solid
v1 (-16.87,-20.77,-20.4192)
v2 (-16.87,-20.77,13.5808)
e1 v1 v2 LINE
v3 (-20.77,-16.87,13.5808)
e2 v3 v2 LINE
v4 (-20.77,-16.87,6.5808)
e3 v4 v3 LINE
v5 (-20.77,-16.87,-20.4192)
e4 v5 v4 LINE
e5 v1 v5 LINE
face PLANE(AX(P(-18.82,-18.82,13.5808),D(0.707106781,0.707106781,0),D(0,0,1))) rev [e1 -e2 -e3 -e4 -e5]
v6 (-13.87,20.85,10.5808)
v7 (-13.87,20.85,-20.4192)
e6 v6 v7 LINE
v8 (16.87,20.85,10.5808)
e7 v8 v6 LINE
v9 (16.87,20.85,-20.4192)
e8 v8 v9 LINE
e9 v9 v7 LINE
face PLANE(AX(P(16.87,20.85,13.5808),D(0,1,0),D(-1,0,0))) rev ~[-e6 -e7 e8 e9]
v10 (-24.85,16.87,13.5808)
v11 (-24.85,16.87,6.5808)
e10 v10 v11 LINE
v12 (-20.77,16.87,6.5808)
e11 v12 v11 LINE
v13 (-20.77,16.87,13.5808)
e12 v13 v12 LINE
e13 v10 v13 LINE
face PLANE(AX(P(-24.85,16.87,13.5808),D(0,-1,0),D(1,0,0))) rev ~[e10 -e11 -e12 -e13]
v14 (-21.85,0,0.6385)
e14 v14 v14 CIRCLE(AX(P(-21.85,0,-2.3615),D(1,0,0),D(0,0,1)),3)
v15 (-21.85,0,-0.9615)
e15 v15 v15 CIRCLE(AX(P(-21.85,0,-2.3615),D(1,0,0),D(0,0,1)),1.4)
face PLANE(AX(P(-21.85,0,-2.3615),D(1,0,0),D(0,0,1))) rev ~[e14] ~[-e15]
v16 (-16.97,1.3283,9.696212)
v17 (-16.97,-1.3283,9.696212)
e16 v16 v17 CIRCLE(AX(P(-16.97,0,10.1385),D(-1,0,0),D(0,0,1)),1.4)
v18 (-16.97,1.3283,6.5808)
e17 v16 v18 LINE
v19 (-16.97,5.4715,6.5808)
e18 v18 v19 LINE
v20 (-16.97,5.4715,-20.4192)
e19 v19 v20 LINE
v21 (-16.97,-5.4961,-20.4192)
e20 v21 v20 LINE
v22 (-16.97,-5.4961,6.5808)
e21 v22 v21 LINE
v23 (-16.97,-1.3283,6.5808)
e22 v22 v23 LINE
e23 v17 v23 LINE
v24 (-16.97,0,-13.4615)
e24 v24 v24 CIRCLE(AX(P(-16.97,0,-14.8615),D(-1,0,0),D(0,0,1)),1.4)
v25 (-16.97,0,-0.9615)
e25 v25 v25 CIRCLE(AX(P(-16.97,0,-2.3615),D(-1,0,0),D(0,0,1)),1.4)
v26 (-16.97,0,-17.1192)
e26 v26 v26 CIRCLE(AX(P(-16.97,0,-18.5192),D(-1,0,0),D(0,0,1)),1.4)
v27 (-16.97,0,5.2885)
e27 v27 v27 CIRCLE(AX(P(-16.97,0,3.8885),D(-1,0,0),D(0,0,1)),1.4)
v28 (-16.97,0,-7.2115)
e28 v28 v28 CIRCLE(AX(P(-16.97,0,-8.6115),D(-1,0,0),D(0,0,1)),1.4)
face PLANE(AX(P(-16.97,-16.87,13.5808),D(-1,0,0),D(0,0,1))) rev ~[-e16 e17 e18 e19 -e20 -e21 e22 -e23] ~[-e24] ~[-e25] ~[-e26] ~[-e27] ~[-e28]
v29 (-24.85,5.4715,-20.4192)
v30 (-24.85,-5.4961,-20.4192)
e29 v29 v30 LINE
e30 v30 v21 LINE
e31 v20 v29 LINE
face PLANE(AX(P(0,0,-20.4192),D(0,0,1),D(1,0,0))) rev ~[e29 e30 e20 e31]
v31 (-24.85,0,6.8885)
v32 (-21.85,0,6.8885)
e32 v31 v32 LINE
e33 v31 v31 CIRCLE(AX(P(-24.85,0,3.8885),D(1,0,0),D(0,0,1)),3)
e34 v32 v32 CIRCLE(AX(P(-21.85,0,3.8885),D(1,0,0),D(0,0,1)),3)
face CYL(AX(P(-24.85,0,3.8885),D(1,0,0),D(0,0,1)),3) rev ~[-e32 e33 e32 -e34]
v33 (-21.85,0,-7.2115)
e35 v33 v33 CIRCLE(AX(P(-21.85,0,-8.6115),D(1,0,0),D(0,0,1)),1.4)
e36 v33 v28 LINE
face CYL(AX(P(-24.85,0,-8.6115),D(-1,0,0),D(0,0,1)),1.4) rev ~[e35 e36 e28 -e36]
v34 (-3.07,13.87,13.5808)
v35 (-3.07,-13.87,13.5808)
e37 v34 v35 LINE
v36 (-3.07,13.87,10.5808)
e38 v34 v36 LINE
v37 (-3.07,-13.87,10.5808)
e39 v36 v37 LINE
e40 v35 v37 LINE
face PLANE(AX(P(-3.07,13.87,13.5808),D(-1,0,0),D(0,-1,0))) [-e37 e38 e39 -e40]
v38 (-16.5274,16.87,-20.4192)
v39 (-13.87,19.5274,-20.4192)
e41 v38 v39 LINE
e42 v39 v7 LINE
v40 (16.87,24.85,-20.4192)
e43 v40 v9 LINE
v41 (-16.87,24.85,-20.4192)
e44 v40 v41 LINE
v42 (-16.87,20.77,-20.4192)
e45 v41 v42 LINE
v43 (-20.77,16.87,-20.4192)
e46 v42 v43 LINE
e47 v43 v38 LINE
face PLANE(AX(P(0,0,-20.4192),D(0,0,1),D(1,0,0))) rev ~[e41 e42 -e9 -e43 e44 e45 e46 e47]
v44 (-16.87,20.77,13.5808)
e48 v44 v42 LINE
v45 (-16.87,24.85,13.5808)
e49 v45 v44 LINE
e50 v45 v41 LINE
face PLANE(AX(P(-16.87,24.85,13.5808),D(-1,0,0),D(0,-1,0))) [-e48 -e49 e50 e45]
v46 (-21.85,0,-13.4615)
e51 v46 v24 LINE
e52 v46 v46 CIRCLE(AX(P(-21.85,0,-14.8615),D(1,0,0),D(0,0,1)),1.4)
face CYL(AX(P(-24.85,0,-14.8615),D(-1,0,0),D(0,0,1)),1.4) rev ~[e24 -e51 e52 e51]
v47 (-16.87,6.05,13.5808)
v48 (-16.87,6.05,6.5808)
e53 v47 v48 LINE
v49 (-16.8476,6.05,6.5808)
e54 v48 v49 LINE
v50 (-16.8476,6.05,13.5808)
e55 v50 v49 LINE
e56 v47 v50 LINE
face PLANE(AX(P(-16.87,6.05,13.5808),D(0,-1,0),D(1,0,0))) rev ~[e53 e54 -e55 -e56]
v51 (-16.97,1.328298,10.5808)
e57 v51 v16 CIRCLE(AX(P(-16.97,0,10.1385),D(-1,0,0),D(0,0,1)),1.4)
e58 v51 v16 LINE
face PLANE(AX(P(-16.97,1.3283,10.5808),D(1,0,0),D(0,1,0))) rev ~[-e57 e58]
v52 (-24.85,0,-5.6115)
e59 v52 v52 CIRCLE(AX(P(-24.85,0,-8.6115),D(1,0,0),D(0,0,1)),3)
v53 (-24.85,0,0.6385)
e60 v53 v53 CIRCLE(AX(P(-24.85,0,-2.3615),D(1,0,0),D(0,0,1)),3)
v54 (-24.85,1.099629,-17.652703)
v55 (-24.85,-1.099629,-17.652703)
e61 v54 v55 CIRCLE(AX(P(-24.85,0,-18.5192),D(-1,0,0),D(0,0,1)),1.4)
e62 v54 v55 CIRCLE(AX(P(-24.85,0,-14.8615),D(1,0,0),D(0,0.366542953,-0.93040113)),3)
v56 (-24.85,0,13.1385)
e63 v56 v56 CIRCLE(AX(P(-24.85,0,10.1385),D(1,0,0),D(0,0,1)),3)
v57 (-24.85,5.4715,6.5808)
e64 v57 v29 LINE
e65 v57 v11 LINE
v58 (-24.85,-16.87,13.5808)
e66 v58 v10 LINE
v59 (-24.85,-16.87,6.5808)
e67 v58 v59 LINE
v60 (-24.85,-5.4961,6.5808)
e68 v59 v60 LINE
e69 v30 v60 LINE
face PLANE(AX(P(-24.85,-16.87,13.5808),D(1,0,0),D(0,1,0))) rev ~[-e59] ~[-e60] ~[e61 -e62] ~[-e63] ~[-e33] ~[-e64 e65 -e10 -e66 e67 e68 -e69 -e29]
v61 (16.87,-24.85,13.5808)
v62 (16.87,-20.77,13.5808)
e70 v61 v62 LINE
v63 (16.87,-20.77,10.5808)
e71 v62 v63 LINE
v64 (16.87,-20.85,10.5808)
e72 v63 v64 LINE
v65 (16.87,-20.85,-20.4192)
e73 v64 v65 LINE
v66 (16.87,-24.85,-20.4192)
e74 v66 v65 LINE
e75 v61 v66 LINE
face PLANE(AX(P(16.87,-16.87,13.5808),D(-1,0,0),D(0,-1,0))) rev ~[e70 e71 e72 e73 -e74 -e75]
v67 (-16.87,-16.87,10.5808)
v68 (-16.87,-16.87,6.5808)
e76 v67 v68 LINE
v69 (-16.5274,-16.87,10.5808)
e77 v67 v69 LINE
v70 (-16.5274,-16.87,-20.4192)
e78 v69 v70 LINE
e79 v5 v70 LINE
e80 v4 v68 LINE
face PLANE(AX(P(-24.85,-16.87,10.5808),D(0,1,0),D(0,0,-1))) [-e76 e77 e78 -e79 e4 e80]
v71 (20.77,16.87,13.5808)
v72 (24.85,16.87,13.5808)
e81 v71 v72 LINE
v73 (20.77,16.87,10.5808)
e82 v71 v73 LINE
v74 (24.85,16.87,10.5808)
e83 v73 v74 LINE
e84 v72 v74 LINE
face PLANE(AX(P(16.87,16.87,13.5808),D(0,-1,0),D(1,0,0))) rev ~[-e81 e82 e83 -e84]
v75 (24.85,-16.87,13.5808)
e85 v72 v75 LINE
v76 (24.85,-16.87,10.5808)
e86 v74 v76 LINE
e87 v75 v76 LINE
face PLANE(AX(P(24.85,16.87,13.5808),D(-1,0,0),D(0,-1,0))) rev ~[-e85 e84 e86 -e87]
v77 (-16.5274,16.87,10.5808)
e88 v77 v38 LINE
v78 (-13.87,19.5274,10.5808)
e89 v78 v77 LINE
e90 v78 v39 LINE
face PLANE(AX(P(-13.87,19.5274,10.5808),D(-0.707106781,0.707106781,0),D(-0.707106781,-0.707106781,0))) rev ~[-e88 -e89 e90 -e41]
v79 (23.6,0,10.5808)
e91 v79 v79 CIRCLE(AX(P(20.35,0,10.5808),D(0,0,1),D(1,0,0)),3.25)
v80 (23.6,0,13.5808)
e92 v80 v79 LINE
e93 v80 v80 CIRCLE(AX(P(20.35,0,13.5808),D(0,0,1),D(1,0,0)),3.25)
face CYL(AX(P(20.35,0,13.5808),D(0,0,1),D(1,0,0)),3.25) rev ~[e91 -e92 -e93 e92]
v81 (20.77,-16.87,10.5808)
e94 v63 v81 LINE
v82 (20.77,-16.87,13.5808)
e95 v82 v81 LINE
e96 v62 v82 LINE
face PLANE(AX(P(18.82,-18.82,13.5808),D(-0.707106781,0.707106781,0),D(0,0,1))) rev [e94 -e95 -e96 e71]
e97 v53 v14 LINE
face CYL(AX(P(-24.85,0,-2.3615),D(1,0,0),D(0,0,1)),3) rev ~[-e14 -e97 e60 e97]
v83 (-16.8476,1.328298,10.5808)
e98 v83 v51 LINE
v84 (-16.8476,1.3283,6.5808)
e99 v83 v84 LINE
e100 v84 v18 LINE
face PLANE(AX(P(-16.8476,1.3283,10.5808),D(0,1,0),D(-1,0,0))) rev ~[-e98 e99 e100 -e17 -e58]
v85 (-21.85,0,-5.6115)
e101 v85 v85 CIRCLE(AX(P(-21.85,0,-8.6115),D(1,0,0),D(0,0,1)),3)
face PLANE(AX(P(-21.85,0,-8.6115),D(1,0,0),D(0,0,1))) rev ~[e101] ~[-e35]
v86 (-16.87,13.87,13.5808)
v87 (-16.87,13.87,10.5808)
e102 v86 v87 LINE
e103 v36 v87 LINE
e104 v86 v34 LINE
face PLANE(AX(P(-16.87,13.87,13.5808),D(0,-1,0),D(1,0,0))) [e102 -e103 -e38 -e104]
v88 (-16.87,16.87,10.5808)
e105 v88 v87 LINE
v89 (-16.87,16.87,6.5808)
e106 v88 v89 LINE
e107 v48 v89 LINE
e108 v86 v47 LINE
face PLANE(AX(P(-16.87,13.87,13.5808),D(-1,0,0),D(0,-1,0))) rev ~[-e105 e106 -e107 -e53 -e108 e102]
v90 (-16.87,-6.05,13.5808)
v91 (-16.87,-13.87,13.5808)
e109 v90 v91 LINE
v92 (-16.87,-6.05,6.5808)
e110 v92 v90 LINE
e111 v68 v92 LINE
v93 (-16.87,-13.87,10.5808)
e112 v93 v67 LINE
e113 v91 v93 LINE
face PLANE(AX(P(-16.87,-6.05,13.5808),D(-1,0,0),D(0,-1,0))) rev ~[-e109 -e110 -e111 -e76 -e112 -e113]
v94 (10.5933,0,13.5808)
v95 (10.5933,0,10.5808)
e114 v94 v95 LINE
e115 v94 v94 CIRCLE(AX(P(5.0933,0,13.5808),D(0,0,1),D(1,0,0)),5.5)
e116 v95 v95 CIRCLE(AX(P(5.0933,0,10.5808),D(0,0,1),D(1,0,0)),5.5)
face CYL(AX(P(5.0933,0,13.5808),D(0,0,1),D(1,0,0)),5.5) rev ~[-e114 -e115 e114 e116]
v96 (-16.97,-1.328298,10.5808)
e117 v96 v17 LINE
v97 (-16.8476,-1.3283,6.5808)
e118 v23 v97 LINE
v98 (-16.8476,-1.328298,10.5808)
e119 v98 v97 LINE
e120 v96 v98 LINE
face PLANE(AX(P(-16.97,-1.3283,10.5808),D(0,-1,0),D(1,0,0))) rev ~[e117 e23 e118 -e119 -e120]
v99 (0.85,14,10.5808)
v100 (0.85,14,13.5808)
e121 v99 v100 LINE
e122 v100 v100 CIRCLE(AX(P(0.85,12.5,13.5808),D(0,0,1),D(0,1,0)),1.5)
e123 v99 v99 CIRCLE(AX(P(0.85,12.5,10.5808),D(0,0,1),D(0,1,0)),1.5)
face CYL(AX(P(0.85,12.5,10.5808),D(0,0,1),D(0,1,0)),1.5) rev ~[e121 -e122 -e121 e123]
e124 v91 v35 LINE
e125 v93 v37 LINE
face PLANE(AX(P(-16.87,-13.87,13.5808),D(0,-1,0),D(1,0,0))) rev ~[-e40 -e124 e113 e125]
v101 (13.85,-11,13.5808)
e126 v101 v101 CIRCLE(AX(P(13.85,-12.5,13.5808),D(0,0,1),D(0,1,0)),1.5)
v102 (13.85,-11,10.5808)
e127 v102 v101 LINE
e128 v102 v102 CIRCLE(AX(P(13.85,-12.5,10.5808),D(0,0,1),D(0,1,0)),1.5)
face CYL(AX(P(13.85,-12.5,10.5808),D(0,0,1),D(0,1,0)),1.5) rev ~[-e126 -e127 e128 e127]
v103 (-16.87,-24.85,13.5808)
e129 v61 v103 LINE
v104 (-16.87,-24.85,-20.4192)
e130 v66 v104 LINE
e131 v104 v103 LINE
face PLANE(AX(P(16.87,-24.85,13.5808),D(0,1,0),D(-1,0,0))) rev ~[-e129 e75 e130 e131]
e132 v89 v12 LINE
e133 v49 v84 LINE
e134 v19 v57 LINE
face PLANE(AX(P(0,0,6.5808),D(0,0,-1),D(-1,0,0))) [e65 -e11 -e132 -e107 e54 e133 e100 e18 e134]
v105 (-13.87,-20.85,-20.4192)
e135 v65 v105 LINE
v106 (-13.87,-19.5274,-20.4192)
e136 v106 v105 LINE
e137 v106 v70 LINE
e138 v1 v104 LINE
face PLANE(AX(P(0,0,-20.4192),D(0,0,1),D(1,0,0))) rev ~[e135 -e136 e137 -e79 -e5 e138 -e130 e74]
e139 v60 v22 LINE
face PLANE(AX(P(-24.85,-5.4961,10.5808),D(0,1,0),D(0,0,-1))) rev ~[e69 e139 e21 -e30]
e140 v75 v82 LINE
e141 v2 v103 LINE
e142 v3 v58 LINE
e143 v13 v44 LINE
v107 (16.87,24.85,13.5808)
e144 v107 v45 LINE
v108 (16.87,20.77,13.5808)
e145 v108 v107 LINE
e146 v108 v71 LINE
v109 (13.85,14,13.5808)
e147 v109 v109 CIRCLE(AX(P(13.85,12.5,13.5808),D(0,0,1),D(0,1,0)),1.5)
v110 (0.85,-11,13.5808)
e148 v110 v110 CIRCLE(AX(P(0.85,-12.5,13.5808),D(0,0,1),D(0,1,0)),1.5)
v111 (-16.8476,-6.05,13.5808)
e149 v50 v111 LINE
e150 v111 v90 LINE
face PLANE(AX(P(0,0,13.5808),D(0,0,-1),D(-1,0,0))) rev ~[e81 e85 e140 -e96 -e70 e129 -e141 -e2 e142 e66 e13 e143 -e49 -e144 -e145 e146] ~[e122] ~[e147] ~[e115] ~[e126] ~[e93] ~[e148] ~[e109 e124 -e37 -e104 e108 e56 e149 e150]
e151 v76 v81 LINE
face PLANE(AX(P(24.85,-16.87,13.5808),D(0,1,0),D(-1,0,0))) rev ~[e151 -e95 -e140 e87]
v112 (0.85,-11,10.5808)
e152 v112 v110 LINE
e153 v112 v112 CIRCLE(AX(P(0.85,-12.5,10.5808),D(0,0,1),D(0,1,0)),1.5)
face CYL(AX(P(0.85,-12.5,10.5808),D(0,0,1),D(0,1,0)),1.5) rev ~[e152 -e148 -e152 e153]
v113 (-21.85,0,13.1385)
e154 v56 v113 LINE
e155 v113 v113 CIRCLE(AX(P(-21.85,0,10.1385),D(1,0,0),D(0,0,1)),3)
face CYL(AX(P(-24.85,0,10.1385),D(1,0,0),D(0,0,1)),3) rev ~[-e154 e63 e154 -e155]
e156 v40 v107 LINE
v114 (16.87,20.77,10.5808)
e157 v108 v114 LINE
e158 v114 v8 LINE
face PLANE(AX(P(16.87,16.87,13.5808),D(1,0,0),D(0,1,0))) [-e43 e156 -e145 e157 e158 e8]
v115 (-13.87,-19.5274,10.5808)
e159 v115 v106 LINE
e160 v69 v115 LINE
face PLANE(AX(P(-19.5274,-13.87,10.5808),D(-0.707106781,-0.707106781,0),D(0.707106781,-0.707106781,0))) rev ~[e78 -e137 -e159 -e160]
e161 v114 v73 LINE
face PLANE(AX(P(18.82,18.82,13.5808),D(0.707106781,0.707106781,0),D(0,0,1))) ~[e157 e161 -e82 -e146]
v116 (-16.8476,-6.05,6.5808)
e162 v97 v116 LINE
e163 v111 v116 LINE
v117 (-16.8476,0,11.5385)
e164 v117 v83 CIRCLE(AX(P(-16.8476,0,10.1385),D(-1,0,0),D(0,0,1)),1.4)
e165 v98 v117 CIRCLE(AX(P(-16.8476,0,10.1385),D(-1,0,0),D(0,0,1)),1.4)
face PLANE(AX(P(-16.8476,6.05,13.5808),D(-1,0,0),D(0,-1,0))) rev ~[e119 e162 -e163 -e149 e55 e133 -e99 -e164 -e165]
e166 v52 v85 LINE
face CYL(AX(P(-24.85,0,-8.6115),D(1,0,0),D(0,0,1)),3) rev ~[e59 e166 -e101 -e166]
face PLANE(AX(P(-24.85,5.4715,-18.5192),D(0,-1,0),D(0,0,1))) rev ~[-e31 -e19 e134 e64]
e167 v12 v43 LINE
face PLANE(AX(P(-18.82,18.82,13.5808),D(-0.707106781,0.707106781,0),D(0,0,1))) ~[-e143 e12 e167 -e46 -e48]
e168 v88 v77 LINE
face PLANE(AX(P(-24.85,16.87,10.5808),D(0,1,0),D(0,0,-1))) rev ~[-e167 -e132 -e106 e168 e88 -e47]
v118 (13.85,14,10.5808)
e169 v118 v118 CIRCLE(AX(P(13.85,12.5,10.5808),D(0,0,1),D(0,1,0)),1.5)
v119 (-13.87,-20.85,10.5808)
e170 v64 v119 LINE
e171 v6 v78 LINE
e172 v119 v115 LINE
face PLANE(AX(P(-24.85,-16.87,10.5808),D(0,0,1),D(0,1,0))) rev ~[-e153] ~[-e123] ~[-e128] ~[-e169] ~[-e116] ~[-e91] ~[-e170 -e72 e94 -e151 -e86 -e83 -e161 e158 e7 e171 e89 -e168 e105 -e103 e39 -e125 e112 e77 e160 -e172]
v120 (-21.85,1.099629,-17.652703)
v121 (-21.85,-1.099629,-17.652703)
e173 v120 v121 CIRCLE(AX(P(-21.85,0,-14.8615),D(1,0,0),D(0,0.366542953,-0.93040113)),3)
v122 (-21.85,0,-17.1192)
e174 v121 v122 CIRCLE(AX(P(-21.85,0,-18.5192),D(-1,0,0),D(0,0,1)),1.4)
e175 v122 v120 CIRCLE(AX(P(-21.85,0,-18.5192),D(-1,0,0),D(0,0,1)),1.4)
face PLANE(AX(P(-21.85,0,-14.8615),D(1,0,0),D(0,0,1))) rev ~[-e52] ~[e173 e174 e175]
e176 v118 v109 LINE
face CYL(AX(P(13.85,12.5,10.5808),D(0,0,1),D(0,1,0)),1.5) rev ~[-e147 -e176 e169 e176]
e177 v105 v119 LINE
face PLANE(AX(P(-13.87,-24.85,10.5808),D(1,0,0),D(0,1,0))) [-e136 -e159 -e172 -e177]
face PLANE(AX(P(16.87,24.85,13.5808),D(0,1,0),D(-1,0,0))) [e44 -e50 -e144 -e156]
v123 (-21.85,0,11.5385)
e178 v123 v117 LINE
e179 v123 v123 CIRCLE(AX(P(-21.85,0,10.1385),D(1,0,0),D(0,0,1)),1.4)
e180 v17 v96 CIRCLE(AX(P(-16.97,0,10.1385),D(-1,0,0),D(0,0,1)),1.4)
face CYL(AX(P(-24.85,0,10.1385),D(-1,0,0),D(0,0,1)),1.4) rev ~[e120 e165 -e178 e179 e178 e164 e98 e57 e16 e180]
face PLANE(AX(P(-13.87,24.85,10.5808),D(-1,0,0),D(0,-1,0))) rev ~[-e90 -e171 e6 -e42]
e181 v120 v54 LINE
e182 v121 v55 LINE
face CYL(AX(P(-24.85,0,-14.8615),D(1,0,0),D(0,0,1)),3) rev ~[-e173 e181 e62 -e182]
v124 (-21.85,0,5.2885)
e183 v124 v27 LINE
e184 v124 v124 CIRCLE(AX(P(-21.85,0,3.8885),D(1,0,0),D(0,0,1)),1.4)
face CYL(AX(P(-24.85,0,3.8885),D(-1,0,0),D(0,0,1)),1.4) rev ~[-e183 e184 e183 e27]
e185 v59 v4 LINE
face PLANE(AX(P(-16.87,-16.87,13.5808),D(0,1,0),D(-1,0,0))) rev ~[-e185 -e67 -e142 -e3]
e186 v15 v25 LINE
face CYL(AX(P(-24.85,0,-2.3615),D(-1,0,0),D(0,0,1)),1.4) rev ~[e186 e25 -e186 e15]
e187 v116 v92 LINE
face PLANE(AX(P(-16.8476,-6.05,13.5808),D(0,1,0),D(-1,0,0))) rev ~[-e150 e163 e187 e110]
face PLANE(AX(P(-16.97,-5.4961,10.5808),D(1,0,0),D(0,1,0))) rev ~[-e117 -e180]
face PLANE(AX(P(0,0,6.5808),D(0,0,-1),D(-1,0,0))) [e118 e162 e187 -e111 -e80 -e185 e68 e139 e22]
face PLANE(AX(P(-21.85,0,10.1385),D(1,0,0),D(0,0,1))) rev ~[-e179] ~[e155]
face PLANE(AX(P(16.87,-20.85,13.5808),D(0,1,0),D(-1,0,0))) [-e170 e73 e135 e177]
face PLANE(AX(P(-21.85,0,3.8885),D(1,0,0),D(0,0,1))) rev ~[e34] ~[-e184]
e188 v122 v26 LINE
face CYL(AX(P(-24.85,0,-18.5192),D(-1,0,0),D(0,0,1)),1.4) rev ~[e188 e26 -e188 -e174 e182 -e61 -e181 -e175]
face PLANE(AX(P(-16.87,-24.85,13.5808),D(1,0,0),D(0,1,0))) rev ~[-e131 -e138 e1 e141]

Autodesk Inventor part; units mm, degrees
ref_plane "Work Plane1" through (0, 0, 13.5808) normal (0, 0, -1) x (-1, 0, 0)
sketch "Sketch1" plane through (0, 0, 13.5808) normal (0, 0, -1) x (-1, 0, 0)
  line L0 (24.85, 16.87) -> (16.87, 16.87)
  line L1 (16.87, -16.87) -> (24.85, -16.87)
  line L2 (24.85, -16.87) -> (24.85, 16.87)
  line L3 (-16.87, 24.85) -> (16.87, 24.85)
  line L4 (16.87, 24.85) -> (16.87, 13.87)
  line L5 (16.87, 13.87) -> (-16.87, 13.87)
  line L6 (-16.87, 13.87) -> (-16.87, 24.85)
  line L7 (-16.87, 16.87) -> (-24.85, 16.87)
  line L8 (-24.85, 16.87) -> (-24.85, -16.87)
  line L9 (-24.85, -16.87) -> (-16.87, -16.87)
  line L10 (-16.87, -24.85) -> (16.87, -24.85)
  line L11 (16.87, -24.85) -> (16.87, -13.87)
  line L12 (16.87, -13.87) -> (-16.87, -13.87)
  line L13 (-16.87, -13.87) -> (-16.87, -24.85)
  circle A0 centre (-22.53, 11.5) radius 1.025 construction
  circle A1 centre (-22.53, -11.5) radius 1.025 construction
  line L14 (-11.03, -14.1) -> (-11.03, -12.75) construction
  arc A2 (-11.03, 12.75) -> (-11.03, -12.75) centre (-11.03, 0) ccw construction
  line L15 (-11.03, 12.75) -> (-11.03, 14.1) construction
  line L16 (-11.03, 14.1) -> (-22.53, 14.1) construction
  arc A3 (-22.53, 14.1) -> (-25.13, 11.5) centre (-22.53, 11.5) ccw construction
  line L17 (-25.13, 11.5) -> (-25.13, -11.5) construction
  arc A4 (-25.13, -11.5) -> (-22.53, -14.1) centre (-22.53, -11.5) ccw construction
  line L18 (-22.53, -14.1) -> (-11.03, -14.1) construction
  circle A5 centre (-11.03, 0) radius 12.75 construction
  circle A6 centre (0.47, 11.5) radius 1.025 construction
  circle A7 centre (0.47, -11.5) radius 1.025 construction
  circle A8 centre (-22.53, -11.5) radius 1.025 construction
  circle A9 centre (-22.53, 11.5) radius 1.025 construction
  line L19 (-22.53, -14.1) -> (0.47, -14.1) construction
  arc A10 (-25.13, -11.5) -> (-22.53, -14.1) centre (-22.53, -11.5) ccw construction
  line L20 (-25.13, 11.5) -> (-25.13, -11.5) construction
  arc A11 (-22.53, 14.1) -> (-25.13, 11.5) centre (-22.53, 11.5) ccw construction
  line L21 (0.47, 14.1) -> (-22.53, 14.1) construction
  arc A12 (3.07, 11.5) -> (0.47, 14.1) centre (0.47, 11.5) ccw construction
  line L22 (3.07, -11.5) -> (3.07, 11.5) construction
  arc A13 (0.47, -14.1) -> (3.07, -11.5) centre (0.47, -11.5) ccw construction
  line L23 (-16.87, 13.87) -> (3.07, 13.87)
  line L24 (3.07, 13.87) -> (3.07, -13.87)
  line L25 (3.07, -13.87) -> (-16.87, -13.87)
  line L26 (16.87, 6.05) -> (16.8476, 6.05)
  line L27 (16.8476, 6.05) -> (16.8476, -6.05)
  line L28 (16.8476, -6.05) -> (16.87, -6.05)
  line L29 (16.87, -6.05) -> (16.87, -4.7)
  line L30 (16.87, 4.7) -> (16.87, 6.05)
  line L31 (16.87, 16.87) -> (16.87, 6.05)
  line L32 (16.87, -6.05) -> (16.87, -16.87)
  line L33 (5.6476, 13.2) -> (13.4476, 13.2) projected
  line L34 (13.4476, -13.2) -> (5.6476, -13.2) projected
  circle A14 centre (-4.7031, 0) radius 7 construction
  circle A15 centre (-4.7031, 0) radius 4 construction
  point P0 (0, 0)
  point P1 (16.87, 16.87)
  point P2 (3.07, 13.87)
  point P3 (3.07, 13.87)
  point P4 (-16.87, -16.87)
  dimension "d6" = 3
  dimension "d7" = 3
  dimension "d140" = 8
extrude "Extrusion1" add sketch "Sketch1" along normal blind 3 contours L2 L1 L11 L32 L28 L27 L26 L31 L4 L0 | L4 L5 L6 L3 | L11 L10 L13 L12 | L24 L12 L13 L9 L8 L7 L6 L5
chamfer "Chamfer1" distance 3.9 angle 45 4 edges at (-16.87, -16.87, 12.0808) (16.87, -16.87, 12.0808) (16.87, 16.87, 12.0808) (-16.87, 16.87, 12.0808)
sketch "Sketch2" plane through (0, 0, 10.5808) normal (0, 0, -1) x (-1, 0, 0)
  line L0 (3.07, 13.87) -> (16.87, 13.87) projected
  line L1 (16.87, -13.87) -> (3.07, -13.87) projected
  line L2 (-16.87, -20.77) -> (-16.87, -24.85) construction
  line L3 (-16.87, -24.85) -> (16.87, -24.85) construction
  line L4 (16.87, -6.05) -> (16.87, -13.87) projected
  line L5 (16.87, 20.77) -> (16.87, 24.85) construction
  line L6 (16.87, 24.85) -> (-16.87, 24.85) construction
  line L7 (-16.87, 24.85) -> (-16.87, 20.77) construction
  line L8 (-13.8689, -21.8489) -> (-13.8689, -19.5269)
  line L9 (-13.8689, -19.5269) -> (-19.5269, -13.8689)
  line L10 (-19.5269, -13.8689) -> (-21.8489, -13.8689)
  line L11 (-21.8489, 13.8689) -> (-19.5269, 13.8689)
  line L12 (-19.5269, 13.8689) -> (-13.8689, 19.5269)
  line L13 (-13.8689, 19.5269) -> (-13.8689, 21.8489)
  line L14 (-13.8689, 21.8489) -> (-13.8689, 24.85)
  line L15 (-21.8489, 13.8689) -> (-24.85, 13.8689)
  line L16 (-21.8489, -13.8689) -> (-24.85, -13.8689)
  line L17 (-13.8689, -21.8489) -> (-13.8689, -24.85)
  line L18 (-11.5469, -21.8489) -> (-13.8689, -21.8489)
  line L19 (-21.8489, -13.8689) -> (-21.8489, -11.5469)
  line L20 (-21.8489, 11.5469) -> (-21.8489, 13.8689)
  line L21 (-13.8689, 21.8489) -> (-11.5469, 21.8489)
  line L22 (16.87, 13.87) -> (16.87, 6.05) projected
  line L23 (16.87, 6.05) -> (16.8476, 6.05) projected
  line L24 (16.8476, 6.05) -> (16.8476, -6.05) projected
  line L25 (16.8476, -6.05) -> (16.87, -6.05) projected
  line L26 (20.77, -16.87) -> (24.85, -16.87) construction
  line L27 (24.85, -16.87) -> (24.85, 16.87) construction
  line L28 (24.85, 16.87) -> (20.77, 16.87) construction
  line L29 (16.87, 20.77) -> (20.77, 16.87) construction
  line L30 (16.87, -24.85) -> (16.87, -20.77) construction
  line L31 (20.77, -16.87) -> (16.87, -20.77) construction
  line L32 (-13.87, 21.85) -> (13.87, 21.85) construction
  line L33 (13.87, 21.85) -> (13.87, 19.5274) construction
  line L34 (13.87, 19.5274) -> (19.5274, 13.87) construction
  line L35 (19.5274, 13.87) -> (21.85, 13.87) construction
  line L36 (21.85, 13.87) -> (21.85, -13.87) construction
  line L37 (21.85, -13.87) -> (19.5274, -13.87) construction
  line L38 (19.5274, -13.87) -> (13.87, -19.5274) construction
  line L39 (13.87, -19.5274) -> (13.87, -21.85) construction
  line L40 (13.87, -21.85) -> (-13.87, -21.85) construction
  line L41 (-13.87, -21.85) -> (-13.87, -19.5274) construction
  line L42 (-13.87, -19.5274) -> (-19.5274, -13.87) construction
  line L43 (-19.5274, -13.87) -> (-21.85, -13.87) construction
  line L44 (-21.85, -13.87) -> (-21.85, 13.87) construction
  line L45 (-21.85, 13.87) -> (-19.5274, 13.87) construction
  line L46 (-19.5274, 13.87) -> (-13.87, 19.5274) construction
  line L47 (-13.87, 19.5274) -> (-13.87, 21.85) construction
  line L48 (16.87, 24.85) -> (-16.87, 24.85) projected
  line L49 (13.87, 24.85) -> (13.87, 19.5274)
  line L50 (13.87, 19.5274) -> (19.5274, 13.87)
  line L51 (19.5274, 13.87) -> (24.85, 13.87)
  line L52 (24.85, -16.87) -> (24.85, 16.87) projected
  line L53 (24.85, -13.87) -> (19.5274, -13.87)
  line L54 (19.5274, -13.87) -> (13.87, -19.5274)
  line L55 (-16.87, -24.85) -> (16.87, -24.85) projected
  line L56 (13.87, -24.85) -> (13.87, -19.5274)
  line L57 (16.87, 24.85) -> (-16.87, 24.85) projected
  line L58 (13.87, 24.85) -> (16.87, 24.85)
  line L59 (16.87, 24.85) -> (16.87, 20.77)
  line L60 (16.87, 20.77) -> (20.77, 16.87)
  line L61 (24.85, 16.87) -> (20.77, 16.87) projected
  line L62 (24.85, 16.87) -> (20.77, 16.87)
  line L63 (24.85, -16.87) -> (24.85, 16.87) projected
  line L64 (24.85, 16.87) -> (24.85, 13.87)
  line L65 (24.85, -13.87) -> (24.85, -16.87)
  line L66 (24.85, -16.87) -> (20.77, -16.87)
  line L67 (20.77, -16.87) -> (16.87, -20.77)
  line L68 (16.87, -24.85) -> (16.87, -20.77) projected
  line L69 (16.87, -24.85) -> (16.87, -20.77)
  line L70 (16.87, -20.77) -> (16.87, -24.85)
  line L71 (16.87, -24.85) -> (-16.87, -24.85) projected
  line L72 (13.87, -24.85) -> (16.87, -24.85)
  line L73 (3.07, -13.87) -> (3.07, 13.87) projected
  line L74 (-20.77, 16.87) -> (-24.85, 16.87) projected
  line L75 (-24.85, 16.87) -> (-24.85, -16.87) projected
  line L76 (-24.85, -16.87) -> (-20.77, -16.87) projected
  line L77 (-16.87, -20.77) -> (-20.77, -16.87) projected
  line L78 (-20.77, 16.87) -> (-16.87, 20.77) projected
  point P0 (0, 0)
  dimension "d115" = 3
ref_plane "Work Plane2" through (-16.97, -24.85, 34.1) normal (0, 0, -1) x (0, 1, 0)
extrude "Extrusion2" add sketch "Sketch2" along normal blind 31.5 contours L56 L54 L53 L52 L66 L67 L68 L55 | L51 L50 L49 L48 L59 L60 L61 L52
sketch "Sketch4" plane through (-24.85, -16.87, 13.5808) normal (-1, 0, 0) x (0, 0, 1)
  line L0 (37.9, 11.3739) -> (37.9, 18.453) construction
  line L1 (23.6194, 18.453) -> (37.9, 18.453) construction
  arc A0 (22.1806, 18.453) -> (23.6194, 18.453) centre (22.9, 16.8577) ccw construction
  line L2 (-1.3806, 18.453) -> (22.1806, 18.453) construction
  arc A1 (-2.8194, 18.453) -> (-1.3806, 18.453) centre (-2.1, 16.8577) ccw construction
  line L3 (-31.3806, 18.453) -> (-2.8194, 18.453) construction
  arc A2 (-32.8194, 18.453) -> (-31.3806, 18.453) centre (-32.1, 16.8577) ccw construction
  line L4 (-42.1, 18.453) -> (-32.8194, 18.453) construction
  line L5 (-42.1, 11.3739) -> (-42.1, 18.453) construction
  line L6 (-42.1, 11.3739) -> (37.9, 11.3739) construction
  line L7 (37.9, 19.2506) -> (37.9, 22.3415) construction
  line L8 (-42.1, 22.3415) -> (37.9, 22.3415) construction
  line L9 (-42.1, 19.2506) -> (-42.1, 22.3415) construction
  line L10 (-42.1, 19.2506) -> (37.9, 19.2506) construction
  line L11 (-3, 3) -> (-3, 30.74) construction
  line L12 (-34.1, 33.84) -> (-34.1, -5.98) construction
  line L13 (-3, 11.3739) -> (-34.1, 11.3739)
  line L14 (-34.1, 11.3739) -> (-34.1, 22.3415)
  line L15 (-34.1, 22.3415) -> (-3, 22.3415)
  line L16 (-3, 22.3415) -> (-3, 11.3739)
  line L17 (-34.1, 11.3739) -> (-32.1, 11.3739)
  line L18 (-32.1, 11.3739) -> (-32.1, 3.0011)
  line L19 (-32.1, 3.0011) -> (-34.1, 3.0011)
  line L20 (-34.1, 3.0011) -> (-34.1, 11.3739)
  line L21 (-34.1, 22.3415) -> (-32.1, 22.3415)
  line L22 (-32.1, 22.3415) -> (-32.1, 30.7389)
  line L23 (-32.1, 30.7389) -> (-34.1, 30.7389)
  line L24 (-34.1, 30.7389) -> (-34.1, 22.3415)
  point P0 (-13.5808, 16.87)
  point P1 (-3, 3.0011)
  point P2 (-3, 30.7389)
  point P3 (-3, 33.74)
  point P4 (-3, 31.418)
  point P5 (-3, 0)
  dimension "d24" = 2
ref_plane "Work Plane3" through (16.97, -5.4961, -37.9) normal (1, 0, 0) x (0, 1, 0)
extrude "Extrusion4" add sketch "Sketch4" against normal blind 7.88 contours L13 L14 L15 L16
sketch "Sketch5" plane through (-24.85, -16.87, 13.5808) normal (-1, 0, 0) x (0, 0, 1)
  circle A0 centre (-32.1, 16.87) radius 1.4
  circle A1 centre (-3.4423, 16.87) radius 1.4
  line L0 (0, -7.98) -> (-34.5, -7.98) projected
  line L1 (0, 41.72) -> (-34.5, 41.72) projected
  line L2 (0, -7.98) -> (-34.5, -7.98) projected
  point P0 (-13.5808, 16.87)
  dimension "d25" = 2.8
  dimension "d26" = 2.8
  dimension "d86" = 49.7
  dimension "d87" = 24.85
  dimension "d88" = 0
extrude "Extrusion5" cut sketch "Sketch5" against normal blind 10
pattern_linear "Rectangular Pattern1" count 5 spacing 6.25 along (0, 0, -1) of "Extrusion5"
ref_plane "Work Plane4" through (-25.03, -12.97, -12) normal (0, 0, 1) x (1, 0, 0)
sketch "Sketch12" plane through (-24.85, -16.87, 13.5808) normal (-1, 0, 0) x (0, 0, 1)
  ellipse E0 centre (-17.053, 16.87) end of major axis (-32.053, 16.87) minor radius 10.6066 projected
  circle A0 centre (-32.1, 16.87) radius 1.4 projected
  circle A1 centre (-22.1923, 16.87) radius 1.4 projected
  circle A2 centre (-15.9423, 16.87) radius 1.4 projected
  circle A3 centre (-9.6923, 16.87) radius 1.4 projected
  circle A4 centre (-3.4423, 16.87) radius 1.4 projected
  circle A5 centre (-28.4423, 16.87) radius 1.4 projected
  point P0 (-13.5808, 16.87)
hole "Hole2" at (-24.85, 0, -8.6115) at (-24.85, 0, 3.8885) at (-24.85, 0, 10.1385) at (-24.85, 0, -2.3615) at (-24.85, 0, -14.8615) direction (1, 0, 0) diameter 2.8 depth 8 tip angle 118 counterbore diameter 6 counterbore depth 3
ref_plane "Work Plane6" through (0, 0, -22) normal (0, 0, -1) x (-1, 0, 0)
ref_plane "Work Plane5" through (-16.97, -16.97, 0) normal (0, 0, 1) x (1, 0, 0)
ref_plane "Work Plane7" through (0, -16.87, 13.5808) normal (1, 0, 0) x (0, 0, -1)
ref_plane "Work Plane8" through (16.87, 0, 13.5808) normal (0, 1, 0) x (-1, 0, 0)
sketch "Skizze18" plane through (-24.85, -16.87, 13.5808) normal (-1, 0, 0) x (0, 0, 1)
  line L0 (0, 0) -> (-34.5, 0) projected
  line L1 (0, 0) -> (0, 33.74) projected
  line L2 (0, 33.74) -> (-34.5, 33.74) projected
  arc A0 (-31.2335, 15.7704) -> (-31.2335, 17.9696) centre (-28.4423, 16.87) ccw projected
  arc A1 (-31.2335, 17.9696) -> (-31.2335, 15.7704) centre (-32.1, 16.87) ccw projected
  circle A2 centre (-3.4423, 16.87) radius 3 projected
  circle A3 centre (-22.1923, 16.87) radius 3 projected
  circle A4 centre (-9.6923, 16.87) radius 3 projected
  circle A5 centre (-15.9423, 16.87) radius 3 projected
  line L3 (-3, 30.7389) -> (-34.5, 30.7389) projected
  line L4 (-34.1, 30.7389) -> (-3, 30.7389)
  line L5 (-3, 30.7389) -> (-3, 33.74)
  line L6 (-3, 33.74) -> (-34.1, 33.74)
  line L7 (-34.1, 33.74) -> (-34.1, 30.7389)
  line L8 (-3, 3.0011) -> (-34.5, 3.0011) projected
  line L9 (0, 0) -> (-34.5, 0) projected
  line L10 (-3, 3.0011) -> (-34.1, 3.0011)
  line L11 (-34.1, 3.0011) -> (-34.1, 0)
  line L12 (-34.1, 0) -> (-3, 0)
  line L13 (-3, 0) -> (-3, 3.0011)
  line L14 (-3, 22.3415) -> (-3, 30.74) projected
  line L15 (-34.1, 22.3415) -> (-3, 22.3415) projected
  line L16 (-34.1, 11.3739) -> (-34.1, 22.3415) projected
  line L17 (-3, 11.3739) -> (-34.1, 11.3739) projected
  line L18 (-3, 3) -> (-3, 11.3739) projected
  line L19 (-34.5, 30.74) -> (-34.5, 33.74) projected
  line L20 (-3, 30.74) -> (-34.5, 30.74) projected
  line L21 (-3, 3) -> (-34.5, 3) projected
  line L22 (-34.5, 0) -> (-34.5, 3) projected
  point P0 (-13.5808, 16.87)
  point P1 (-35.1, 0)
  point P2 (-34.1, 3.0011)
  point P3 (-3, 0)
  point P4 (-34.1, 0)
extrude "Extrusion14" cut sketch "Skizze18" against normal blind 10 contours L0 L11 L8 L13 | L5 L3 L7 L2
sketch "Skizze19" plane through (0, 0, 13.5808) normal (0, 0, 1) x (1, 0, 0)
  line L0 (-34.5437, 37.7032) -> (40.2308, 37.7032)
  line L1 (40.2308, 37.7032) -> (40.2308, -45.0753)
  line L2 (40.2308, -45.0753) -> (-34.5437, -45.0753)
  line L3 (-34.5437, -45.0753) -> (-34.5437, 37.7032)
  point P0 (0, 0)
extrude "Extrusion15" cut sketch "Skizze19" against normal blind 34 keep common part
sketch "Skizze20" plane through (0, 0, 13.5808) normal (0, 0, 1) x (1, 0, 0)
  line L0 (-16.87, 24.85) -> (16.87, 24.85) projected
  line L1 (-16.87, -24.85) -> (16.87, -24.85) projected
  line L2 (16.87, 24.85) -> (16.87, 20.77) projected
  line L3 (-16.87, 24.85) -> (16.87, 24.85)
  line L4 (16.87, 24.85) -> (16.87, 20.85)
  line L5 (16.87, 20.85) -> (-16.87, 20.85)
  line L6 (-16.87, 20.85) -> (-16.87, 24.85)
  line L7 (-16.87, -13.87) -> (-16.87, -13.87) projected
  line L8 (-16.87, -24.85) -> (16.87, -24.85)
  line L9 (16.87, -24.85) -> (16.87, -20.85)
  line L10 (16.87, -20.85) -> (-16.87, -20.85)
  line L11 (-16.87, -20.85) -> (-16.87, -24.85)
  point P0 (0, 0)
  point P1 (-16.87, -20.77)
  point P2 (16.87, -24.85)
  point P3 (-16.87, -20.85)
  point P4 (16.87, 13.87)
  dimension "d104" = 4
  dimension "d105" = 4
extrude "Extrusion16" add sketch "Skizze20" against normal blind 34
sketch "Skizze25" plane through (0, 0, 10.5808) normal (0, 0, -1) x (-1, 0, 0)
  line L0 (13.87, 20.85) -> (-16.87, 20.85) projected
  line L1 (-16.87, 20.85) -> (-16.87, 20.77) projected
  line L2 (-20.77, 16.87) -> (-16.87, 20.77) projected
  line L3 (-20.77, 16.87) -> (-24.85, 16.87) projected
  line L4 (-24.85, 16.87) -> (-24.85, -16.87) projected
  line L5 (-24.85, -16.87) -> (-20.77, -16.87) projected
  line L6 (-16.87, -20.77) -> (-20.77, -16.87) projected
  line L7 (-16.87, -20.77) -> (-16.87, -20.85) projected
  line L8 (-16.87, -20.85) -> (13.87, -20.85) projected
  line L9 (13.87, -20.85) -> (13.87, -19.5274) projected
  line L10 (13.87, -19.5274) -> (16.5274, -16.87) projected
  line L11 (20.77, -16.87) -> (16.5274, -16.87) projected
  line L12 (24.85, -16.87) -> (20.77, -16.87) projected
  line L13 (24.85, -16.87) -> (24.85, -5.4961) projected
  line L14 (24.85, -5.4961) -> (16.97, -5.4961) projected
  line L15 (16.8476, -1.3283) -> (16.8476, -6.05) projected
  line L16 (16.8476, -6.05) -> (16.87, -6.05) projected
  line L17 (16.87, -6.05) -> (16.87, -13.87) projected
  line L18 (16.87, -13.87) -> (3.07, -13.87) projected
  line L19 (3.07, -13.87) -> (3.07, 13.87) projected
  line L20 (3.07, 13.87) -> (16.87, 13.87) projected
  line L21 (16.87, 13.87) -> (16.87, 6.05) projected
  line L22 (16.87, 6.05) -> (16.8476, 6.05) projected
  line L23 (16.8476, 6.05) -> (16.8476, 1.3283) projected
  line L24 (16.97, 5.4715) -> (24.85, 5.4715) projected
  line L25 (24.85, 5.4715) -> (24.85, 16.87) projected
  line L26 (20.77, 16.87) -> (24.85, 16.87) projected
  line L27 (20.77, 16.87) -> (16.5274, 16.87) projected
  line L28 (16.5274, 16.87) -> (13.87, 19.5274) projected
  line L29 (13.87, 19.5274) -> (13.87, 20.85) projected
  line L30 (16.87, 13.87) -> (16.87, 16.87)
  line L31 (16.87, -6.05) -> (16.87, -13.87) projected
  line L32 (16.87, -13.87) -> (16.87, -16.87)
  line L33 (20.77, -16.87) -> (16.5274, -16.87) projected
  line L34 (16.97, -5.4961) -> (16.97, -1.3283) projected
  line L35 (16.97, -1.3283) -> (16.8476, -1.3283) projected
  line L36 (16.8476, 1.3283) -> (16.97, 1.3283) projected
  line L37 (16.97, 1.3283) -> (16.97, 5.4715) projected
  point P0 (0, 0)
extrude "Extrusion21" add sketch "Skizze25" along normal blind 4 contours L27 L26 L25 L24 L37 L36 L23 L22 L21 L30 | L17 L16 L15 L35 L34 L14 L13 L12 L11 L32
ref_plane "Arbeitsebene9" through (0, 0, -3.4192) normal (0, 0, -1) x (-1, 0, 0)
sketch "Skizze29" plane through (0, 0, 13.5808) normal (0, 0, 1) x (1, 0, 0)
  circle A0 centre (5.0933, 0) radius 5.5
  circle A1 centre (5.2366, 0) radius 2.75 projected
  circle A2 centre (5.2366, 0) radius 8 projected
  point P0 (0, 0)
  dimension "d152" = 11
extrude "Extrusion25" cut sketch "Skizze29" against normal blind 10 contours A0 | A1
sketch "Skizze31" plane through (0, 0, 10.5808) normal (0, 0, -1) x (-1, 0, 0)
  circle A0 centre (-5.0933, 0) radius 5.5 projected
  line L0 (16.87, -16.87) -> (16.87, -13.87) projected
  line L1 (16.87, -13.87) -> (3.07, -13.87) projected
  line L2 (3.07, -13.87) -> (3.07, 13.87) projected
  line L3 (3.07, 13.87) -> (16.87, 13.87) projected
  line L4 (16.87, 13.87) -> (16.87, 16.87) projected
  line L5 (16.87, 16.87) -> (16.5274, 16.87) projected
  line L6 (16.5274, 16.87) -> (13.87, 19.5274) projected
  line L7 (13.87, 19.5274) -> (13.87, 20.85) projected
  line L8 (13.87, 20.85) -> (-16.87, 20.85) projected
  line L9 (-16.87, 20.85) -> (-16.87, 20.77) projected
  line L10 (-20.77, 16.87) -> (-16.87, 20.77) projected
  line L11 (-20.77, 16.87) -> (-24.85, 16.87) projected
  line L12 (-24.85, 16.87) -> (-24.85, -16.87) projected
  line L13 (-24.85, -16.87) -> (-20.77, -16.87) projected
  line L14 (-16.87, -20.77) -> (-20.77, -16.87) projected
  line L15 (-16.87, -20.77) -> (-16.87, -20.85) projected
  line L16 (-16.87, -20.85) -> (13.87, -20.85) projected
  line L17 (13.87, -20.85) -> (13.87, -19.5274) projected
  line L18 (13.87, -19.5274) -> (16.5274, -16.87) projected
  line L19 (16.87, -16.87) -> (16.5274, -16.87) projected
  line L20 (-13.85, -12.5) -> (-0.85, -12.5)
  line L21 (-0.85, -12.5) -> (-0.85, 12.5)
  line L22 (-0.85, 12.5) -> (-13.85, 12.5)
  line L23 (-13.85, 12.5) -> (-13.85, -12.5)
  line L24 (-13.85, -12.5) -> (-0.85, 12.5) construction
  line L25 (-0.85, -12.5) -> (-13.85, 12.5) construction
  point P0 (0, 0)
  point P1 (-7.35, 0)
  dimension "d153" = 13
  dimension "d154" = 25
  dimension "d155" = 11
hole "Bohrung4" at (0.85, 12.5, 10.5808) at (13.85, 12.5, 10.5808) at (13.85, -12.5, 10.5808) at (0.85, -12.5, 10.5808) direction (0, 0, 1) diameter 3 end through all
sketch "Sketch32" plane through (0, 0, 13.5808) normal (0, 0, 1) x (1, 0, 0)
  circle A0 centre (20.35, 0) radius 3.25
  line L0 (24.85, 16.87) -> (24.85, -16.87) projected
  point P0 (0, 0)
  dimension "d164" = 6.5
  dimension "d165" = 4.5
extrude "Extrusion27" cut sketch "Sketch32" against normal blind 10
properties part number "30_Cube_Z_Focus_NEMA8_captive_base_v0"
